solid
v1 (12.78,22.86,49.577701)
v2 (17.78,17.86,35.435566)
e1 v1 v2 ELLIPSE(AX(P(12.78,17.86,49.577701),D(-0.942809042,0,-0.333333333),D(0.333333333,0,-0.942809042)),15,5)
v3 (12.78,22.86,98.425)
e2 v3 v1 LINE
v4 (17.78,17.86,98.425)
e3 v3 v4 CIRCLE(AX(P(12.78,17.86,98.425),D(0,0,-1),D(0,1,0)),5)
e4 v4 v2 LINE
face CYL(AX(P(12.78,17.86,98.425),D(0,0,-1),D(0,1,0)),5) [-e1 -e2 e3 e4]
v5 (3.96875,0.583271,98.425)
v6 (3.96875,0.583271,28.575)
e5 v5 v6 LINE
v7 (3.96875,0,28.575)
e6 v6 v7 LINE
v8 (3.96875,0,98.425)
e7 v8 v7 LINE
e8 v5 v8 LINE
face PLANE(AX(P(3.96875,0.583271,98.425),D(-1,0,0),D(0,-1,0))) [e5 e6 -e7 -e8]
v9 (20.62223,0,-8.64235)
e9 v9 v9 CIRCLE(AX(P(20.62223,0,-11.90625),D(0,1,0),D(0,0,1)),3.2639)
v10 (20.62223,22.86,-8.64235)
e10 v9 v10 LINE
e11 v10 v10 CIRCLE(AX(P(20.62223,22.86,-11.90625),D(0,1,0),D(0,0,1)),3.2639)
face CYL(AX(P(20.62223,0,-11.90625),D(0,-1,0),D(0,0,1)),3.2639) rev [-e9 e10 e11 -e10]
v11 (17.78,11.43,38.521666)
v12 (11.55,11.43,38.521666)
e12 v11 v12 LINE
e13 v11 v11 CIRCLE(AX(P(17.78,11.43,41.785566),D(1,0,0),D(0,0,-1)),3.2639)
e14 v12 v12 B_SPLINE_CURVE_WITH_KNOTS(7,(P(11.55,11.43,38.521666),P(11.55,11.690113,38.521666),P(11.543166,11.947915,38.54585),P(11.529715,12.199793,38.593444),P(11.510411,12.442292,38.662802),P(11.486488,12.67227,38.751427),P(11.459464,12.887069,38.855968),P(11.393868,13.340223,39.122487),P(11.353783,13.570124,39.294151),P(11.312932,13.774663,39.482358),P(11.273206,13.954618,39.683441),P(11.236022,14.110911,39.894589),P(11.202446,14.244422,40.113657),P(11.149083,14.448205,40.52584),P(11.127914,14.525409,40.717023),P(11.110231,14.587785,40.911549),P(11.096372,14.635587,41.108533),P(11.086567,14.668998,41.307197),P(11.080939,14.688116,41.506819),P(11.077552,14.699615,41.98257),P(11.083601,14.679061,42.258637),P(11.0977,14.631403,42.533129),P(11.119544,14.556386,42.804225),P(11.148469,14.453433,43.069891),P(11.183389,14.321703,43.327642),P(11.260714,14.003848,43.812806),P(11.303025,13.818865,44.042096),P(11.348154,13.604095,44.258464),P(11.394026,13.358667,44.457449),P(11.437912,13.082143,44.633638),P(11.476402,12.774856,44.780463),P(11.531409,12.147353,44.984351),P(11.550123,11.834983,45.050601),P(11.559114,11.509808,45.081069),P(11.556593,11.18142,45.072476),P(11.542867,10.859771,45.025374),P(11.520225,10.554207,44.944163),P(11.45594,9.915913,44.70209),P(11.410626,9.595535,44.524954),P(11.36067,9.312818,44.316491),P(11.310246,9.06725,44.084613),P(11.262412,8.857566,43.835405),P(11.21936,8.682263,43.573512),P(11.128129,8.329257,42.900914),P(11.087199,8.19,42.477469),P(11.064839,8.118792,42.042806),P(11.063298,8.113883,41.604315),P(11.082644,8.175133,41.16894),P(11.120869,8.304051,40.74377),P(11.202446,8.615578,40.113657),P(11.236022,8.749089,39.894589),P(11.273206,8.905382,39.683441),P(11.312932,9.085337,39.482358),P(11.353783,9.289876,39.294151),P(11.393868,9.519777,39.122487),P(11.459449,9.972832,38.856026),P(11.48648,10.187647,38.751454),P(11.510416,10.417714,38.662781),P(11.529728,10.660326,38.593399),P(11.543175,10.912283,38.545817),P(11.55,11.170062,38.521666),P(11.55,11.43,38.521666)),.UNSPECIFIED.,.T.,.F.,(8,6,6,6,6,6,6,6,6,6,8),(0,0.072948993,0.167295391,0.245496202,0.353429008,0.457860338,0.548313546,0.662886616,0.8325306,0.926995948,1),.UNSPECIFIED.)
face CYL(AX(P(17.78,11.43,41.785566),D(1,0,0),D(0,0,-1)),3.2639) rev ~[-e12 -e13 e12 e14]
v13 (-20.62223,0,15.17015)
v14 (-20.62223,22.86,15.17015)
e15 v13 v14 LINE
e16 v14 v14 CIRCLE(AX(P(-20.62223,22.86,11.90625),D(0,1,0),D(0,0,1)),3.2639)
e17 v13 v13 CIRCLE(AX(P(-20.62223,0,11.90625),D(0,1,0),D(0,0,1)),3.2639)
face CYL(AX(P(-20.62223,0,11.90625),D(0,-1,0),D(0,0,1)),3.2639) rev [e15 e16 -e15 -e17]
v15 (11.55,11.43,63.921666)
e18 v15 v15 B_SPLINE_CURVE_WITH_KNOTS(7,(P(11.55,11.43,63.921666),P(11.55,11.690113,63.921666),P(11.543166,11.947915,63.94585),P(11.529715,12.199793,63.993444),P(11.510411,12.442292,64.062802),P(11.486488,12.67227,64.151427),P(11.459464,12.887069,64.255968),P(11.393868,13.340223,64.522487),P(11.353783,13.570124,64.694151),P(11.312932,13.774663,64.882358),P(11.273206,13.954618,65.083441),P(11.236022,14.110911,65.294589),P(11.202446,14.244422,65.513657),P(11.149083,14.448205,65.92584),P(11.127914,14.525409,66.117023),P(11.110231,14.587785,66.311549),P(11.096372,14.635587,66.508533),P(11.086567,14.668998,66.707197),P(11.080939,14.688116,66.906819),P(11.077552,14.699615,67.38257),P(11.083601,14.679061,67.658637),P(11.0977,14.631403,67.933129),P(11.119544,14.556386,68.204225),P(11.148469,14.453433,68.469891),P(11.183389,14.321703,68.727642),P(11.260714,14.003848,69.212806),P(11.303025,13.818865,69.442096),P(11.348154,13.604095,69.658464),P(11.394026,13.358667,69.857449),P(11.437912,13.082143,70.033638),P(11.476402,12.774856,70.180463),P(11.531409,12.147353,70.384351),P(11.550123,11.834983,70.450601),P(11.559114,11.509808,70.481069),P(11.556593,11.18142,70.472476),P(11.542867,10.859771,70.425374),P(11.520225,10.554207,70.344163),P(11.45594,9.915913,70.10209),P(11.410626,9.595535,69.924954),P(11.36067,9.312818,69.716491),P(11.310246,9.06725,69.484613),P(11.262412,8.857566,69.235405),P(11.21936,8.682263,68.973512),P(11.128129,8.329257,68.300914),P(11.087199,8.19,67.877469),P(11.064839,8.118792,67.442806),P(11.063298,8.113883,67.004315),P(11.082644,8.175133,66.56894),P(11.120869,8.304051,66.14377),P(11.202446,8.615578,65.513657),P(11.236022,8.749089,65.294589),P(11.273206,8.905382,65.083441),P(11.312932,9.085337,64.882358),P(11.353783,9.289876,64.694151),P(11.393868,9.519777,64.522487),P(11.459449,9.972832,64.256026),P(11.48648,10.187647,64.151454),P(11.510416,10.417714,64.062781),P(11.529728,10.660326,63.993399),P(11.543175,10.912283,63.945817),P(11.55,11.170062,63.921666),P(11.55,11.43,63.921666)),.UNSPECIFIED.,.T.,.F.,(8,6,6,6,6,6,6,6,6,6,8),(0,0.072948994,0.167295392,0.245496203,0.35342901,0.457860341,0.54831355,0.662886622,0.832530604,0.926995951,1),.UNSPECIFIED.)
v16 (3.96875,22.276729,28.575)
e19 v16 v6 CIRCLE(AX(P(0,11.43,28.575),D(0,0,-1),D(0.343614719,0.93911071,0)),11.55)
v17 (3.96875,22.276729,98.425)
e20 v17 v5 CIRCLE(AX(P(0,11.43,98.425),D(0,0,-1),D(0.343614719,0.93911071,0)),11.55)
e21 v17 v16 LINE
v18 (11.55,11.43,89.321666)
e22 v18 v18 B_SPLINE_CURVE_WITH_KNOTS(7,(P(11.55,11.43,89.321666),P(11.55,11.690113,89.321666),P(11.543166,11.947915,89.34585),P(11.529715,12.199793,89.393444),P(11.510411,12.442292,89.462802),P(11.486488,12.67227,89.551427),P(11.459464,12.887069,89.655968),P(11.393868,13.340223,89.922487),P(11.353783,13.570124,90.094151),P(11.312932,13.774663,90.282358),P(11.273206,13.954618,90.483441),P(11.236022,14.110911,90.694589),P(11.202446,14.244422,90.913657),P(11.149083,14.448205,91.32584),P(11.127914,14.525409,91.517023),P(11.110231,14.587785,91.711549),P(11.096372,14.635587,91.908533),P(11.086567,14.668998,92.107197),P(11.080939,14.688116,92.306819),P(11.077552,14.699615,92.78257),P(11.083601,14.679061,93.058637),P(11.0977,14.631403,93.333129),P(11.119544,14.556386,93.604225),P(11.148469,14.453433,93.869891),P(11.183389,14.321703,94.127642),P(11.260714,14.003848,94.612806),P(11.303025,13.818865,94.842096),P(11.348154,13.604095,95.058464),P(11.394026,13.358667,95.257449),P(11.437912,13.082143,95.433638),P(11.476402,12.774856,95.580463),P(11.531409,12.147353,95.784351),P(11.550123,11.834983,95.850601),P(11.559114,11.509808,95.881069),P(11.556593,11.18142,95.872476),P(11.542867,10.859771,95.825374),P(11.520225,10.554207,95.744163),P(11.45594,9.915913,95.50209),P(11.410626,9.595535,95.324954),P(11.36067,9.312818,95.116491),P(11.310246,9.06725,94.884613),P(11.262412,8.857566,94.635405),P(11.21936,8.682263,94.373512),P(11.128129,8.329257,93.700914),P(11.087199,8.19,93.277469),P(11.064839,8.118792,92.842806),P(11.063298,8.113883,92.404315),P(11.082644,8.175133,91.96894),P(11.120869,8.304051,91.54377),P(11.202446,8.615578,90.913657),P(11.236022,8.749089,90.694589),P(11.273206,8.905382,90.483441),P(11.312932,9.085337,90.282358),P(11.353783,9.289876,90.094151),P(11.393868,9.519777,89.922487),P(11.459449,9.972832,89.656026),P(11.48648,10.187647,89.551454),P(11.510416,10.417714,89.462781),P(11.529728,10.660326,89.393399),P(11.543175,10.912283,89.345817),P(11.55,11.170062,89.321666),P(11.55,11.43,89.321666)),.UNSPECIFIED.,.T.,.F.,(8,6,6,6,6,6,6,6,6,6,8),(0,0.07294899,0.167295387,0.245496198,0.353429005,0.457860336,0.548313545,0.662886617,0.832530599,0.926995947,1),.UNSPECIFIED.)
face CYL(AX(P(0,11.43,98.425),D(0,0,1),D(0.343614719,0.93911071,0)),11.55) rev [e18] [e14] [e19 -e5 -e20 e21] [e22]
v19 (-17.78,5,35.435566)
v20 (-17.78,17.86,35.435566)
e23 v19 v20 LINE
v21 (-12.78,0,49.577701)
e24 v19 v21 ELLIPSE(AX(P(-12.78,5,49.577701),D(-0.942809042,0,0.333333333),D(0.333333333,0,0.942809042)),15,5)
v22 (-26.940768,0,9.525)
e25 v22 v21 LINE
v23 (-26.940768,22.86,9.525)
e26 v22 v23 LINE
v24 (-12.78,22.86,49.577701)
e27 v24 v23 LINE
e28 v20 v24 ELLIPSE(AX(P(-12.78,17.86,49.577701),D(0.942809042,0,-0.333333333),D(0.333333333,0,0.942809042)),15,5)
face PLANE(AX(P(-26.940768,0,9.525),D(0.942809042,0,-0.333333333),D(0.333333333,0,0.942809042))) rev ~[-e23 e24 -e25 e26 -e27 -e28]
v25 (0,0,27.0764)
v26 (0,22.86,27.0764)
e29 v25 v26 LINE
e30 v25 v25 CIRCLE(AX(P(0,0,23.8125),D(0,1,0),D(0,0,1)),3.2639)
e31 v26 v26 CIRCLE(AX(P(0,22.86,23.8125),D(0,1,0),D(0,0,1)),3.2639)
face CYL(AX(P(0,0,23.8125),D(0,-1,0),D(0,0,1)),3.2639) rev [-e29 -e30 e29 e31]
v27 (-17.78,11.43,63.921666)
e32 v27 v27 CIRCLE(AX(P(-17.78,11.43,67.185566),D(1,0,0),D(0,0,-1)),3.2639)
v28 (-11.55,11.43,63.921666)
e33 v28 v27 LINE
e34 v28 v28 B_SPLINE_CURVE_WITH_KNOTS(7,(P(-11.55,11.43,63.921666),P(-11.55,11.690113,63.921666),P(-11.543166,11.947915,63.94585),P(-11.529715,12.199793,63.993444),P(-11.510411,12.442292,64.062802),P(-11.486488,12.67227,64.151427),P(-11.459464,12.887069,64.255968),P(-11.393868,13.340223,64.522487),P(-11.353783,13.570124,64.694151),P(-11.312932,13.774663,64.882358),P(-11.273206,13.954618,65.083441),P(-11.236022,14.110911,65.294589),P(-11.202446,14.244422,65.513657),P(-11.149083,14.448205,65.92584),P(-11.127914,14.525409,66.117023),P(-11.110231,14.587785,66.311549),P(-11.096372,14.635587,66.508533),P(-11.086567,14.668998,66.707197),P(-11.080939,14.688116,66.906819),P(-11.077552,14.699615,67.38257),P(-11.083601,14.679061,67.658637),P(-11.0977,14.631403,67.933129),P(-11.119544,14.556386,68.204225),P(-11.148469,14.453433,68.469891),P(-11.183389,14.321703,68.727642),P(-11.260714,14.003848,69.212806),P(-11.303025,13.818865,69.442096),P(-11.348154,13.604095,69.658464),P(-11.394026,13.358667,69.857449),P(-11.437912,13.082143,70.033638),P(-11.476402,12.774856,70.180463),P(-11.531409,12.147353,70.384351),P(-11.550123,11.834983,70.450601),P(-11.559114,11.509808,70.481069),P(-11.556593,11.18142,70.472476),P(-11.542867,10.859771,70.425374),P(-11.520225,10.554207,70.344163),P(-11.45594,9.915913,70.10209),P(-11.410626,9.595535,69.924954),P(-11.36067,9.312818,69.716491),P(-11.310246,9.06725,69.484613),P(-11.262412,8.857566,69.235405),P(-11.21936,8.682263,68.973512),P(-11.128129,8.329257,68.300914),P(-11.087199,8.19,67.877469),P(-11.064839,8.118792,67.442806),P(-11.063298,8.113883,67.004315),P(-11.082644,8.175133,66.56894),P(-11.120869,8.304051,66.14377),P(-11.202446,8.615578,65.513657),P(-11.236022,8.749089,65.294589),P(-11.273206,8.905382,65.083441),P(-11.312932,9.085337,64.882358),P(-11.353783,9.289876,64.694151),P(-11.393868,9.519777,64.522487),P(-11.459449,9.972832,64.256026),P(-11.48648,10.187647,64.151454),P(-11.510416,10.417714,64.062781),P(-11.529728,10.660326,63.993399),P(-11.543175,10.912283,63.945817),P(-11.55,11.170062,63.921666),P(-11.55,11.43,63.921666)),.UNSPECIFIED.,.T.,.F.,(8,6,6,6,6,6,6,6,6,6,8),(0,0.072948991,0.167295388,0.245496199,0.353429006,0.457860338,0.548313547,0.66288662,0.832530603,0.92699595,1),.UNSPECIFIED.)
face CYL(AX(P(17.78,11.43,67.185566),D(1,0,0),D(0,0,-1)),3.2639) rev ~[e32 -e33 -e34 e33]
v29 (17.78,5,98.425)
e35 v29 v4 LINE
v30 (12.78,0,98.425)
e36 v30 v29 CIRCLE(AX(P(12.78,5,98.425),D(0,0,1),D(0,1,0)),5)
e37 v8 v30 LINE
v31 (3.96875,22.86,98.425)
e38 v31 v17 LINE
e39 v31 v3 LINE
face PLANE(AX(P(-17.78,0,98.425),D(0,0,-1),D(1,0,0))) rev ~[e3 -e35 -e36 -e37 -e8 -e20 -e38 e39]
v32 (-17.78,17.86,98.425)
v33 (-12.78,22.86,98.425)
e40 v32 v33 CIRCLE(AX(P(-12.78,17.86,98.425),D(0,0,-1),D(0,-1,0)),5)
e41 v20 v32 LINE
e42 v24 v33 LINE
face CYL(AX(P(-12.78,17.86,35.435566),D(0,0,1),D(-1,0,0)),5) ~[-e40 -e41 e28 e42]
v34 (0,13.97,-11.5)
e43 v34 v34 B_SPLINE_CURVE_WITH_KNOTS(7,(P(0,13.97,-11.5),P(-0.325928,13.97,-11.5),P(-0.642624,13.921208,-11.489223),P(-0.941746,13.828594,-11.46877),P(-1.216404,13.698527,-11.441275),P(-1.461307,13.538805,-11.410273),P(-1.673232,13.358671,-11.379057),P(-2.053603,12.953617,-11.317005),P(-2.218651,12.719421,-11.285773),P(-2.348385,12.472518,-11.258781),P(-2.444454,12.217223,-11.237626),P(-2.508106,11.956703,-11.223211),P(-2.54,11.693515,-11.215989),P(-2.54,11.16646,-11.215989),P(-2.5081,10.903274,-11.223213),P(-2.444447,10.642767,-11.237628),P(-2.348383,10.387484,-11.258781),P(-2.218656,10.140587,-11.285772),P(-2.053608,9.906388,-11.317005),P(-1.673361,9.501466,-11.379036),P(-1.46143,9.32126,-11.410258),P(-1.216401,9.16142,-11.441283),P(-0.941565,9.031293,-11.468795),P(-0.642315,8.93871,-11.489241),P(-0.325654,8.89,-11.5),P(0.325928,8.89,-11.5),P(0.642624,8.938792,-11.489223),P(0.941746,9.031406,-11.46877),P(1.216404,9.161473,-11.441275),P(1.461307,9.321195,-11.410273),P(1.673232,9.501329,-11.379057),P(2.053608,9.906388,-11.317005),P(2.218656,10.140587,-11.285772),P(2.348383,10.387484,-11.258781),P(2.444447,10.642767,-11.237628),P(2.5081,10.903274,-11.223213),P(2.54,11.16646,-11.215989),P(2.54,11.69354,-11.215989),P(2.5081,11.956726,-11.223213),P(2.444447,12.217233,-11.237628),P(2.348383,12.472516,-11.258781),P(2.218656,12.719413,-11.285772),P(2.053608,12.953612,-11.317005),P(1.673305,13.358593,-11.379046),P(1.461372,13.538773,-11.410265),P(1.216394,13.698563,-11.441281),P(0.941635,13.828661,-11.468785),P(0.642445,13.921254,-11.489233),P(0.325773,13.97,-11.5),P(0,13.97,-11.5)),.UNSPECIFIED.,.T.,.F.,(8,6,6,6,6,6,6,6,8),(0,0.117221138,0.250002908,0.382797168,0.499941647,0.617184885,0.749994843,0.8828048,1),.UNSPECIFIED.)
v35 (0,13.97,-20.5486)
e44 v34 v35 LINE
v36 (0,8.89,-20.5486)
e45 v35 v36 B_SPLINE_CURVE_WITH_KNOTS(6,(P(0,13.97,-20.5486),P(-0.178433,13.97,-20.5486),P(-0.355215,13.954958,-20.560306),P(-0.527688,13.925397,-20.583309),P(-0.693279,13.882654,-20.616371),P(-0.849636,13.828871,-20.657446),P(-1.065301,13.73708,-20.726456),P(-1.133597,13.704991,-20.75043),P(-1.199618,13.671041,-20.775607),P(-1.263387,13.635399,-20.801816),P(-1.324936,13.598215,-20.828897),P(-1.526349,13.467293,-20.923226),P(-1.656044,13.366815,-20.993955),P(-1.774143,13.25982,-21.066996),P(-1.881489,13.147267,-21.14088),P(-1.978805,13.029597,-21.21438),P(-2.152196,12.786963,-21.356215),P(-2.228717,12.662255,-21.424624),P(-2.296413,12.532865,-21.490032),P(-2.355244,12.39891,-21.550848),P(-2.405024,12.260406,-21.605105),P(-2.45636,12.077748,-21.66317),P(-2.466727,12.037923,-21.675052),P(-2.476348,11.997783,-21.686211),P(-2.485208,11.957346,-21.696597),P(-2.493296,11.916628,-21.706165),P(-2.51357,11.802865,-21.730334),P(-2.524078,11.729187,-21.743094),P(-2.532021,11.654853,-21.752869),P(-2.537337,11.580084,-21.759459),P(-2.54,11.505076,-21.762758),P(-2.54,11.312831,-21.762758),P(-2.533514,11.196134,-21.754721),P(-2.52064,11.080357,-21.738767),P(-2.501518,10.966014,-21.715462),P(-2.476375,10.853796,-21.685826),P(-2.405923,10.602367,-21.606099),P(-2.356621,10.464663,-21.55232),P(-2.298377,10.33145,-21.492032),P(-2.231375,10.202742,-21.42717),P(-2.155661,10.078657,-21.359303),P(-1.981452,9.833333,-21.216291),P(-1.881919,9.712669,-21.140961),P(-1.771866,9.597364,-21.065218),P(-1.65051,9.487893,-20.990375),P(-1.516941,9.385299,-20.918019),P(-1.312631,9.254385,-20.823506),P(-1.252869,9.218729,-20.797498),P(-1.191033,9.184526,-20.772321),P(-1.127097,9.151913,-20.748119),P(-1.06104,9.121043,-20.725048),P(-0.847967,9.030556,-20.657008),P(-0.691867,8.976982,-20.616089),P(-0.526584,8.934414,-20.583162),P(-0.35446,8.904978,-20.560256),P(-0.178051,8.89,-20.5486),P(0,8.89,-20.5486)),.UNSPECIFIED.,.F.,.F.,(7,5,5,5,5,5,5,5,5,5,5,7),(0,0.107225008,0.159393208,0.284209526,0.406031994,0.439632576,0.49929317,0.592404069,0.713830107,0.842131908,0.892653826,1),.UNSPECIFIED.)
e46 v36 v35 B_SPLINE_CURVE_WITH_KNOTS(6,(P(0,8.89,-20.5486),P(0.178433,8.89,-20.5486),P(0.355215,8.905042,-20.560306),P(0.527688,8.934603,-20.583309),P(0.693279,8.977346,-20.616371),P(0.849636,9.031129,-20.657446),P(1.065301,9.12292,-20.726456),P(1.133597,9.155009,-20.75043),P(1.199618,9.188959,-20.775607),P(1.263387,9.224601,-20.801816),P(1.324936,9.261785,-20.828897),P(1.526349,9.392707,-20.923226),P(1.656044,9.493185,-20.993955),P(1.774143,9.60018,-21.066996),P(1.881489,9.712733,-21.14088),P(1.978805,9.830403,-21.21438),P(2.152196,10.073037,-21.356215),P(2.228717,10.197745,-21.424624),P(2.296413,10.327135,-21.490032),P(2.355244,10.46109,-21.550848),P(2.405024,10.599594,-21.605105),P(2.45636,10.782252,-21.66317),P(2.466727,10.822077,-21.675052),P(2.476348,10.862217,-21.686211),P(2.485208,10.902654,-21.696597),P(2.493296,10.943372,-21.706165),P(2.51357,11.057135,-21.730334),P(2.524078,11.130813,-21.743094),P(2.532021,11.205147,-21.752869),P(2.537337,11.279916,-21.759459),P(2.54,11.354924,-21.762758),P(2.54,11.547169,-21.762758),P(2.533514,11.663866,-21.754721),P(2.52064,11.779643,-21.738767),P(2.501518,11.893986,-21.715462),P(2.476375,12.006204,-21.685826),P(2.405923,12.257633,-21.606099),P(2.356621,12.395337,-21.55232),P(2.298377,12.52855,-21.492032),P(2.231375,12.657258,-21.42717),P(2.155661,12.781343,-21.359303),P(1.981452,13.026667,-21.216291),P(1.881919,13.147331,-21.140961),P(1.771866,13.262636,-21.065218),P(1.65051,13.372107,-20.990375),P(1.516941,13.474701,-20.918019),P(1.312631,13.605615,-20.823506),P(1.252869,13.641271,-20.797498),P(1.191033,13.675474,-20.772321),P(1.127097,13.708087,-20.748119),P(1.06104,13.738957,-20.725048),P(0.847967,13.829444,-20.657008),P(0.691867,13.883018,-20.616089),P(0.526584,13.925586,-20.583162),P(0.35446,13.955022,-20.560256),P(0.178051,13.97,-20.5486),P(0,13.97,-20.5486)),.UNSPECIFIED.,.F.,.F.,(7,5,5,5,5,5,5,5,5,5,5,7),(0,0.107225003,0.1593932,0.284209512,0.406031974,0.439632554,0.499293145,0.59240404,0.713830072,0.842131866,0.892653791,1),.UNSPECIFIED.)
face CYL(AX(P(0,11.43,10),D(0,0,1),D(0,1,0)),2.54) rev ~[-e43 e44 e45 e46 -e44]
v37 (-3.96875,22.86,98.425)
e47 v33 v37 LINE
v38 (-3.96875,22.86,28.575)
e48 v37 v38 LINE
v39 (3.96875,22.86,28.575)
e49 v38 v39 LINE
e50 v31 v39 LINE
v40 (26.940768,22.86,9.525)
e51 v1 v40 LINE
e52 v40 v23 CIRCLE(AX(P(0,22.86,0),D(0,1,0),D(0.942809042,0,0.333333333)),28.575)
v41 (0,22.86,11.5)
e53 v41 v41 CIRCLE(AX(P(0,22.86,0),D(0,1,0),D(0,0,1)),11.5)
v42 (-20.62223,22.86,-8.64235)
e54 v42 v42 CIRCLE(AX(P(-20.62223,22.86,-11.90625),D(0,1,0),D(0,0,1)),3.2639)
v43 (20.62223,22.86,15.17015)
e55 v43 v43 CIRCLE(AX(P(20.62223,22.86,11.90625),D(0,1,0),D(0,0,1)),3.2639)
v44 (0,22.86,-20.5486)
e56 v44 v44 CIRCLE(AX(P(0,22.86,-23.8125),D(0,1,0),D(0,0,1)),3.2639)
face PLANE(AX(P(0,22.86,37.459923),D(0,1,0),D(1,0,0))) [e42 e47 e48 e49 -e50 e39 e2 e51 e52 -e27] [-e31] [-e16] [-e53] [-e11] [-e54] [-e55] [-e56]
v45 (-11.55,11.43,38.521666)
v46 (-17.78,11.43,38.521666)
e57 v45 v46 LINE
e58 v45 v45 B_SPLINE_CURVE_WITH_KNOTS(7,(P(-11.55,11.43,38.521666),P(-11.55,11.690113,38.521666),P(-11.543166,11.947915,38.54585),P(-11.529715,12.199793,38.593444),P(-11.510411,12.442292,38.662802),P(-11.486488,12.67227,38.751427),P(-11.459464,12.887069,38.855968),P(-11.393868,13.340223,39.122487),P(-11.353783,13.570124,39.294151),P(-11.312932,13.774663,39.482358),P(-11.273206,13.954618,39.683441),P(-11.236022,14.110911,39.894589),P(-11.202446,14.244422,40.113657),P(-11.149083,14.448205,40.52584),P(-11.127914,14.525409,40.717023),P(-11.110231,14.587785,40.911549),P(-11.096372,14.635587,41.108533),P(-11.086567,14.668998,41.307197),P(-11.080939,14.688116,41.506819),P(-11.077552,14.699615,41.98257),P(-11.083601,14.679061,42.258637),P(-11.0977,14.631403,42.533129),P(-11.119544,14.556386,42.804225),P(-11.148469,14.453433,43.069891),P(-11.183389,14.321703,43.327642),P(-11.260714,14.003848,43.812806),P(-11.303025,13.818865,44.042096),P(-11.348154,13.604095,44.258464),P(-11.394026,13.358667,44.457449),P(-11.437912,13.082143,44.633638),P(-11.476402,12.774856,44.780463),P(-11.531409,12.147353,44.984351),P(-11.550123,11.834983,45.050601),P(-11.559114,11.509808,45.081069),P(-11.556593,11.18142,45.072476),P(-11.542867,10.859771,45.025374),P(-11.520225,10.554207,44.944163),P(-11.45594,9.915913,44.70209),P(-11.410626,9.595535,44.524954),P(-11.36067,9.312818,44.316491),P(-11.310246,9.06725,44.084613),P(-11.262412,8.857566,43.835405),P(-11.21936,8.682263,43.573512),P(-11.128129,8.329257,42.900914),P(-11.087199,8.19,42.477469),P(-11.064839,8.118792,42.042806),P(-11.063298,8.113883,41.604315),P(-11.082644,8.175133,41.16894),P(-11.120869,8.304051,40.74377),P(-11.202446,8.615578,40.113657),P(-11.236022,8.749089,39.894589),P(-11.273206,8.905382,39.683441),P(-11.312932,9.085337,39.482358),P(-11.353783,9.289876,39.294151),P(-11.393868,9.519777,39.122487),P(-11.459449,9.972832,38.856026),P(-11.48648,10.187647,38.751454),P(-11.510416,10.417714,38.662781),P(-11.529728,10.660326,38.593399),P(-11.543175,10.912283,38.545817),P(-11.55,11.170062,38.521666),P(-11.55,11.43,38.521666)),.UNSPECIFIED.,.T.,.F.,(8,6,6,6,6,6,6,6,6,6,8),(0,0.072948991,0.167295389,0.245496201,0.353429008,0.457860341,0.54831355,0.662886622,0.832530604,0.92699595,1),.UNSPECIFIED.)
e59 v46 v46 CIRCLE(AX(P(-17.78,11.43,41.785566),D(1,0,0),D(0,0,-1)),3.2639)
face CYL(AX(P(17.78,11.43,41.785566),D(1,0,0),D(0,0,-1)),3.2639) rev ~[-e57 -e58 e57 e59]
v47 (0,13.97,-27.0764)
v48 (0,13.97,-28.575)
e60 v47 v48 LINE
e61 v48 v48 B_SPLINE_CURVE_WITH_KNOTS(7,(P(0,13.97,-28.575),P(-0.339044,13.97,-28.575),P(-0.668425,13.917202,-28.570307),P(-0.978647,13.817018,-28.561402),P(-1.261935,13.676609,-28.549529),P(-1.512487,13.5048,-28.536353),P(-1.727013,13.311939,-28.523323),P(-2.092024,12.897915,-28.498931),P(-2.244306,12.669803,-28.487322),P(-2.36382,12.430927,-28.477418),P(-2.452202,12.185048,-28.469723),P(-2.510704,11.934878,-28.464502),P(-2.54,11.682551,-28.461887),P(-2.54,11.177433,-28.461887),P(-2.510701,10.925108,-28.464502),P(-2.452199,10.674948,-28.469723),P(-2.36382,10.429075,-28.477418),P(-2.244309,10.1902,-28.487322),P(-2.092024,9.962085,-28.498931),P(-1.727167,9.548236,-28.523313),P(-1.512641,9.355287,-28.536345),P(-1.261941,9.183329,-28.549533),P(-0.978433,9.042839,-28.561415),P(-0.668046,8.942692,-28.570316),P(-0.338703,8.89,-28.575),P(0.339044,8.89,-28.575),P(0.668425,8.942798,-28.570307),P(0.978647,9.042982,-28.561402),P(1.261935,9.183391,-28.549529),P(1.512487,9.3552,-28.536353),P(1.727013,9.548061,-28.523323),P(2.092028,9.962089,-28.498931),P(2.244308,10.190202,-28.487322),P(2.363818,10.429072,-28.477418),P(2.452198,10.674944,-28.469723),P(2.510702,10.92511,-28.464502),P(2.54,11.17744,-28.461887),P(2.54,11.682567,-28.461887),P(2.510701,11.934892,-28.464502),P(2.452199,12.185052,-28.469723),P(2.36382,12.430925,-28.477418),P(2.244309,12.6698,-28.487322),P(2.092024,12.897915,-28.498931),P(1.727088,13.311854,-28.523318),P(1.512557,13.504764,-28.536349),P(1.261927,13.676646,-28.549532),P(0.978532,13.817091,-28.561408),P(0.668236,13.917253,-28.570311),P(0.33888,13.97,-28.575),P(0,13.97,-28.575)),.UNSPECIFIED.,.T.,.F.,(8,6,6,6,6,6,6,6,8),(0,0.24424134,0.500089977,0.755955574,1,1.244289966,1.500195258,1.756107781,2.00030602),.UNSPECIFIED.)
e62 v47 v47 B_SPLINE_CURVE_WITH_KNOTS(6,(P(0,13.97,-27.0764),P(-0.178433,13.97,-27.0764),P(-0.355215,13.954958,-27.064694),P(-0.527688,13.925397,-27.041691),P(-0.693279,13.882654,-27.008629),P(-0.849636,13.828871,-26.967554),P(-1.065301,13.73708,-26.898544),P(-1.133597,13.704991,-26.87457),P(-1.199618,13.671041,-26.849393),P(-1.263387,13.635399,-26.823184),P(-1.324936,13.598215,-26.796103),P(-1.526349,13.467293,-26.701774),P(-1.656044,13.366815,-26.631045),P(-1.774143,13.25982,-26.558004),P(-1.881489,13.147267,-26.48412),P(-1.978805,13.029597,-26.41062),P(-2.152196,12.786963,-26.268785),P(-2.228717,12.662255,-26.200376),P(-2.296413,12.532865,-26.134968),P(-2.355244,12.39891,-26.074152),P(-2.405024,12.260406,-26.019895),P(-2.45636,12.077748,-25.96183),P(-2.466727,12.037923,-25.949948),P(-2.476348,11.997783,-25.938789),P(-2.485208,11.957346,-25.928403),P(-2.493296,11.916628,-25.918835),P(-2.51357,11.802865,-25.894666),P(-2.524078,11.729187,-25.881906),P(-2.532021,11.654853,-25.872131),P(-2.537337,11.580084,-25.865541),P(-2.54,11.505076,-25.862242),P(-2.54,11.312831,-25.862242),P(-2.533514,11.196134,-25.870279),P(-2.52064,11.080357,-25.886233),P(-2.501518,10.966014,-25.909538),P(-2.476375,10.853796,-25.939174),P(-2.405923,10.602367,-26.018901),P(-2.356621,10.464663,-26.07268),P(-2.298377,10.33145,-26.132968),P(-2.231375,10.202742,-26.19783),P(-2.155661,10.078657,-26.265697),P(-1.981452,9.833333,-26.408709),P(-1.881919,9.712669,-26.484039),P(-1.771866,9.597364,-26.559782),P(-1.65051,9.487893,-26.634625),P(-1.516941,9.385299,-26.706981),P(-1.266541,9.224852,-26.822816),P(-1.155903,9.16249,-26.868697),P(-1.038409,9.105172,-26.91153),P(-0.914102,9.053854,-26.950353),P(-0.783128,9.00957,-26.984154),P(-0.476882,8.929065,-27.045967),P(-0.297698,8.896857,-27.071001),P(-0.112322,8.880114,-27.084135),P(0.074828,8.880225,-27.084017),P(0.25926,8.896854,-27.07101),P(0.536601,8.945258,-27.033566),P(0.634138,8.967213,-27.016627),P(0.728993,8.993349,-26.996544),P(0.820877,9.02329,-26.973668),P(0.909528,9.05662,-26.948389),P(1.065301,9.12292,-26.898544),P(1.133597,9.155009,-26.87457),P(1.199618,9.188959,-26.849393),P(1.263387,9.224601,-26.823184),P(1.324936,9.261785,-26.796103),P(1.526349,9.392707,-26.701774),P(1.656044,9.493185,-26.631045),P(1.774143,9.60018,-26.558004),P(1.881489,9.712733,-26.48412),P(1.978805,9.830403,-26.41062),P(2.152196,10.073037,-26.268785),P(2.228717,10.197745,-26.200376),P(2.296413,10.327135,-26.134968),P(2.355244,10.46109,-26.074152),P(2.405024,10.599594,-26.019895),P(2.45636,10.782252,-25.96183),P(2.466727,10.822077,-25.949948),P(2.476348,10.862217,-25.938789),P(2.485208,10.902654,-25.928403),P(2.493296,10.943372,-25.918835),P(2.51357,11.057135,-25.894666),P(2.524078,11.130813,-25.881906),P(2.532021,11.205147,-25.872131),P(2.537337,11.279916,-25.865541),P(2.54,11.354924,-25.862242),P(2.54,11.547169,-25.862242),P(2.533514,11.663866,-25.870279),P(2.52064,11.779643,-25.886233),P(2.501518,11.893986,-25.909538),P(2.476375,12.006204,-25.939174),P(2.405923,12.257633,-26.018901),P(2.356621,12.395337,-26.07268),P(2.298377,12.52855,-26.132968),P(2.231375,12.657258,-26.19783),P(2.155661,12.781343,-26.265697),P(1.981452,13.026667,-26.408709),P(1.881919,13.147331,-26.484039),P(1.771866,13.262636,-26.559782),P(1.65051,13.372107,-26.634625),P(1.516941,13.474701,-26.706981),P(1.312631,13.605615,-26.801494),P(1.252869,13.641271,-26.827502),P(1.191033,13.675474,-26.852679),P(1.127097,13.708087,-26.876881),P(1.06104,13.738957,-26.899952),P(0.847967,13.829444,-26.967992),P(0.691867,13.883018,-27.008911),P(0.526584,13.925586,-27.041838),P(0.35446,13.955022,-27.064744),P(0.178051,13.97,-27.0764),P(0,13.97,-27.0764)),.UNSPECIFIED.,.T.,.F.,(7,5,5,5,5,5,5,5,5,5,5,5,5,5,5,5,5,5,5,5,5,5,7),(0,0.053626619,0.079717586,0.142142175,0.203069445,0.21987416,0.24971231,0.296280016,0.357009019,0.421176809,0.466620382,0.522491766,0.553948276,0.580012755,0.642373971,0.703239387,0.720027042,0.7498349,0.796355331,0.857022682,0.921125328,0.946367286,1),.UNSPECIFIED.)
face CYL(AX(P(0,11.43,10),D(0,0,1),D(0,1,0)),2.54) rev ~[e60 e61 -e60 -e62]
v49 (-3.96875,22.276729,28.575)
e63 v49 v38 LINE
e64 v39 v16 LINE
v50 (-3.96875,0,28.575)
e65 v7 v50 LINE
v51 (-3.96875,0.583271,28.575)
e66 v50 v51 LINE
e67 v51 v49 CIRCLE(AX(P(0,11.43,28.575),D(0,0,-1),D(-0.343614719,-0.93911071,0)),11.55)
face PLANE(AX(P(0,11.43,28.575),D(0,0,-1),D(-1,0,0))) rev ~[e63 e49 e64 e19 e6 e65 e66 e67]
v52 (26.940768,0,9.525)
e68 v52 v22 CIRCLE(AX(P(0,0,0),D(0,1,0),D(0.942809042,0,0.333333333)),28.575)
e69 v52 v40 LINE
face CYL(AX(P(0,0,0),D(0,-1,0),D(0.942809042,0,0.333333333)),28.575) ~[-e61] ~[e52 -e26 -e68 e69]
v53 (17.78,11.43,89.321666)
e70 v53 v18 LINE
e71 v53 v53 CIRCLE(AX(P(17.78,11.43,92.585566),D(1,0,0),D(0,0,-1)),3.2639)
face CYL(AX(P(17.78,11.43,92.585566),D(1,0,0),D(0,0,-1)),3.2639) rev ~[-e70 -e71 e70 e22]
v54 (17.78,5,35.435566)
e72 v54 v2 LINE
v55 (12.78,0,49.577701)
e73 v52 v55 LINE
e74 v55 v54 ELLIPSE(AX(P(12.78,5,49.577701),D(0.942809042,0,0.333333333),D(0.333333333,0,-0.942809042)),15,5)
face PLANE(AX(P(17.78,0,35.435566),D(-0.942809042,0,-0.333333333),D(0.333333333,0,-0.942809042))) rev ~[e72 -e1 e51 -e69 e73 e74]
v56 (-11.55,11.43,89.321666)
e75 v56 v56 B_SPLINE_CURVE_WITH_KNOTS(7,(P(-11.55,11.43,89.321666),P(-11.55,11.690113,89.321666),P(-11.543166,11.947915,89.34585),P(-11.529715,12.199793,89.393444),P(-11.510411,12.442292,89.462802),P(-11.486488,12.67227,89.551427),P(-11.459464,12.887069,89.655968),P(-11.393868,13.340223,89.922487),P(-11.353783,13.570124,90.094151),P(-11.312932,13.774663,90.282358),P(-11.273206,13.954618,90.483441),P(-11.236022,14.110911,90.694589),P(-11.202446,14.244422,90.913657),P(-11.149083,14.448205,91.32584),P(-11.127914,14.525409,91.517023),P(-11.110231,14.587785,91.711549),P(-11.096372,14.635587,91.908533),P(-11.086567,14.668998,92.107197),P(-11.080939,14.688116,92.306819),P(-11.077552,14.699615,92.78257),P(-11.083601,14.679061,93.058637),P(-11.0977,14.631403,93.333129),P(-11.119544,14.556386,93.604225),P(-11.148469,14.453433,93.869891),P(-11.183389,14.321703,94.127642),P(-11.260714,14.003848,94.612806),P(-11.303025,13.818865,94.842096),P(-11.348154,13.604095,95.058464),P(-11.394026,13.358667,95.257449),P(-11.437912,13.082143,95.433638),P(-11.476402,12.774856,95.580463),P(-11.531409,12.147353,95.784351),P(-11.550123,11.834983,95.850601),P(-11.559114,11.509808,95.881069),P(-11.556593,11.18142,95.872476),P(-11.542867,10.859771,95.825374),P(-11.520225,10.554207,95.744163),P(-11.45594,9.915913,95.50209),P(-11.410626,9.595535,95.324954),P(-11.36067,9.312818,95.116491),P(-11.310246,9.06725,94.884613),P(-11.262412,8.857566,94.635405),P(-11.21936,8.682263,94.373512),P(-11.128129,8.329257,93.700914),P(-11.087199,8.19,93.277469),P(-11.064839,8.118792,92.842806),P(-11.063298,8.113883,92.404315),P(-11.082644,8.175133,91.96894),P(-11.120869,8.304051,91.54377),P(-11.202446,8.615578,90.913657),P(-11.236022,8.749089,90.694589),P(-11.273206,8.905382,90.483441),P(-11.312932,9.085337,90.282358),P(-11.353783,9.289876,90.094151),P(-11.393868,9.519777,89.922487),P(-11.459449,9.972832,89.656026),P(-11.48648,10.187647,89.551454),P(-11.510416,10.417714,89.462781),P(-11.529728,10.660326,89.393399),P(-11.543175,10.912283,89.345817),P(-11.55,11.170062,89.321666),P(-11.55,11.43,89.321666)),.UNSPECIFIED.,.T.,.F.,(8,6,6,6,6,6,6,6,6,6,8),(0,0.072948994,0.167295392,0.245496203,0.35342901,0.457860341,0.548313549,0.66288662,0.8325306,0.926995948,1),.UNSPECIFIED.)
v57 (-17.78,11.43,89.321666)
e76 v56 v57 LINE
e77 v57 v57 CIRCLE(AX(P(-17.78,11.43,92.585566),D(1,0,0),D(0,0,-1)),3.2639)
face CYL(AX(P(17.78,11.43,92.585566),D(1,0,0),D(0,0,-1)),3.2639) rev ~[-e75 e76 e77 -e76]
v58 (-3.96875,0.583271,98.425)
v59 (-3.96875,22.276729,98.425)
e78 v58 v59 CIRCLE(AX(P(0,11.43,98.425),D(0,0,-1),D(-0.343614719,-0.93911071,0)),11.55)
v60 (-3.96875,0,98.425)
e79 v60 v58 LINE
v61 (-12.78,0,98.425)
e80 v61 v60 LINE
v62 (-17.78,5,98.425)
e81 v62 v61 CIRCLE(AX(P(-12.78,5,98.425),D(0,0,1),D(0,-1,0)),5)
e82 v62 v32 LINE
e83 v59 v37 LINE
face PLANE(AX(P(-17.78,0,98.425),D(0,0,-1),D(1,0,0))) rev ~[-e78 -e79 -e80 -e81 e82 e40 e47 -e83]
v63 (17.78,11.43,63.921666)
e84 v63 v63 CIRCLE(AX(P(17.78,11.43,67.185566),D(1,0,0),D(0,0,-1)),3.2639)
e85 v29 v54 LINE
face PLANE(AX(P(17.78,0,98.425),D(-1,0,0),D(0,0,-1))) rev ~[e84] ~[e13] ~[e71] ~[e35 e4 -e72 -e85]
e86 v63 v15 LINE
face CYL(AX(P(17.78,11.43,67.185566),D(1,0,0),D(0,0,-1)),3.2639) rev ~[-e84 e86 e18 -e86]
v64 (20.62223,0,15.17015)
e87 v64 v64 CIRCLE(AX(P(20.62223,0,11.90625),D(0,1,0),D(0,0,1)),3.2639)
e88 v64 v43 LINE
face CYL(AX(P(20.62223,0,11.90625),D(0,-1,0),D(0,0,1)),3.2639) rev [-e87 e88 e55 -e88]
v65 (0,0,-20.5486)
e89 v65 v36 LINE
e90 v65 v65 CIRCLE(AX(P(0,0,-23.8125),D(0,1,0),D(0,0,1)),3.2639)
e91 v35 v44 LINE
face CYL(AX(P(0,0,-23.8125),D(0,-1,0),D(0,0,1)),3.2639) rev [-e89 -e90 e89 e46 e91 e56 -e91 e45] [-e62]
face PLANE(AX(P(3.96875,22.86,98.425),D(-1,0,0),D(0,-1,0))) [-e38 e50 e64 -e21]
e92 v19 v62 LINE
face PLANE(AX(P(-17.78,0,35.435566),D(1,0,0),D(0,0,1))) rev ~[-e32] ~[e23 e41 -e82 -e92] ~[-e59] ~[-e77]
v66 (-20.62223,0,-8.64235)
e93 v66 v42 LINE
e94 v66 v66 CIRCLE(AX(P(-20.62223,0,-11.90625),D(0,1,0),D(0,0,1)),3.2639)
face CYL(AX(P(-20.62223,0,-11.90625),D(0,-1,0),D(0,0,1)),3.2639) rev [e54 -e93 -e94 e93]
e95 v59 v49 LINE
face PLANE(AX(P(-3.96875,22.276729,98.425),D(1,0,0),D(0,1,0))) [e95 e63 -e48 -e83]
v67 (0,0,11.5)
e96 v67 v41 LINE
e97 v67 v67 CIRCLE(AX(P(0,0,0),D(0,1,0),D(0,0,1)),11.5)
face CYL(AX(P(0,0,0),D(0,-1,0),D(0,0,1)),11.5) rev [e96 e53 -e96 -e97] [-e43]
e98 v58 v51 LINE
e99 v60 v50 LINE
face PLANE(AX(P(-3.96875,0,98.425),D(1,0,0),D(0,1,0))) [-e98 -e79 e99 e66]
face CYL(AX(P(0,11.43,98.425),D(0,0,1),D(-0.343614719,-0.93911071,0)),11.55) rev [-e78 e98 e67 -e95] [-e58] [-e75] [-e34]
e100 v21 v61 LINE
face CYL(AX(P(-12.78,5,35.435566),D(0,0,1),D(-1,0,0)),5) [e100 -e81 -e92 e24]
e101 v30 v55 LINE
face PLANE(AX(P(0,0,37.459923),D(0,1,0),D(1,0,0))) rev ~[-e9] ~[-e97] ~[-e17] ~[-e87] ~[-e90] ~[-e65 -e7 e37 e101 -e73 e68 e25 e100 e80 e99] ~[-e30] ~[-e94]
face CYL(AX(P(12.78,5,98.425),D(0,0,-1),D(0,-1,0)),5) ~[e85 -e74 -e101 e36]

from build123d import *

# Parameters (mm, degrees)
SKETCH3_R               = 11.5
SKETCH3_R_2             = 3.2639
BOSS_EXTRUDE1_DEPTH     = 22.86
CUT_EXTRUDE1_DEPTH      = 69.85
SKETCH6_R               = 3.2639
CUT_EXTRUDE2_DEPTH      = 112.17034789
FILLET1_R               = 5
CUT_EXTRUDE4_REACH      = 97.698
CUT_EXTRUDE4_END_RADIUS = 28.575
SKETCH8_R               = 2.54


with BuildPart() as part:
    # Sketch3 → Boss-Extrude1 (new body)
    with BuildSketch(Plane(origin=(0, 0, 0), x_dir=(1, 0, 0), z_dir=(0, 1, 0))):
        with BuildLine():
            Line((-26.940768363, -9.525), (-17.78, -35.435565722))
            Line((-17.78, -35.435565722), (-17.78, -98.425))
            Line((-17.78, -98.425), (17.78, -98.425))
            Line((17.78, -98.425), (17.78, -35.435565722))
            Line((17.78, -35.435565722), (26.940768363, -9.525))
            ThreePointArc((26.940768363, -9.525), (0, 28.575), (-26.940768363, -9.525))
        make_face()
        with Locations(Location((0, 0, 0), (0, 0, 270))):
            Circle(SKETCH3_R, mode=Mode.SUBTRACT)
        with Locations(Location((0, 23.8125, 0), (0, 0, 270))):
            Circle(SKETCH3_R_2, mode=Mode.SUBTRACT)
        with Locations(Location((20.622229928, 11.90625, 0), (0, 0, 270))):
            Circle(SKETCH3_R_2, mode=Mode.SUBTRACT)
        with Locations(Location((20.622229928, -11.90625, 0), (0, 0, 270))):
            Circle(SKETCH3_R_2, mode=Mode.SUBTRACT)
        with Locations(Location((0, -23.8125, 0), (0, 0, 270))):
            Circle(SKETCH3_R_2, mode=Mode.SUBTRACT)
        with Locations(Location((-20.622229928, -11.90625, 0), (0, 0, 270))):
            Circle(SKETCH3_R_2, mode=Mode.SUBTRACT)
        with Locations(Location((-20.622229928, 11.90625, 0), (0, 0, 270))):
            Circle(SKETCH3_R_2, mode=Mode.SUBTRACT)
    extrude(amount=BOSS_EXTRUDE1_DEPTH)

    # Sketch4 → Cut-Extrude1 (cut)
    with BuildSketch(Plane.XY.offset(98.425)):
        with BuildLine():
            Line((3.96875, 0), (-3.96875, 0))
            Line((-3.96875, 0), (-3.96875, 0.583271302))
            ThreePointArc((-3.96875, 0.583271302), (-11.55, 11.43), (-3.96875, 22.276728698))
            Line((-3.96875, 22.276728698), (-3.96875, 22.86))
            Line((-3.96875, 22.86), (3.96875, 22.86))
            Line((3.96875, 22.86), (3.96875, 22.276728698))
            ThreePointArc((3.96875, 22.276728698), (11.55, 11.43), (3.96875, 0.583271302))
            Line((3.96875, 0.583271302), (3.96875, 0))
        make_face()
    extrude(amount=-CUT_EXTRUDE1_DEPTH, mode=Mode.SUBTRACT)

    # Sketch6 → Cut-Extrude2 (cut, through all)
    with BuildSketch(Plane(origin=(17.78, 0, 0), x_dir=(0, 0, -1), z_dir=(1, 0, 0))):
        with Locations((-41.785565722, 11.43)):
            Circle(SKETCH6_R)
        with Locations((-67.185565722, 11.43)):
            Circle(SKETCH6_R)
        with Locations((-92.585565722, 11.43)):
            Circle(SKETCH6_R)
    extrude(amount=-CUT_EXTRUDE2_DEPTH, mode=Mode.SUBTRACT)

    # Fillet1
    fillet1_edges = [part.edges().sort_by_distance(p)[0] for p in [
        (-17.78, 22.86, 66.930282861),
        (17.78, 22.86, 66.930282861),
        (-17.78, 0, 66.930282861),
        (17.78, 0, 66.930282861),
    ]]
    fillet(fillet1_edges, radius=FILLET1_R)

    # Cut-Extrude4: up to this cylinder (the profile starts inside it)
    cut_extrude4_end = Plane(origin=(0, 11.43, 0), z_dir=(0, -1, 0)) * Cylinder(CUT_EXTRUDE4_END_RADIUS, 253.546, mode=Mode.PRIVATE)
    # Sketch8 → Cut-Extrude4 (cut, up to the surface)
    with BuildSketch(Plane.XY.offset(10), mode=Mode.PRIVATE) as cut_extrude4_sk1:
        with Locations(Location((0, 11.43, 0), (0, 0, 90))):
            Circle(SKETCH8_R)
    cut_extrude4_tool1 = extrude(cut_extrude4_sk1.sketch, amount=-CUT_EXTRUDE4_REACH, mode=Mode.PRIVATE) & cut_extrude4_end
    add(cut_extrude4_tool1.solids().sort_by_distance((0, 11.43, 10))[0], mode=Mode.SUBTRACT)


solid = part.part
